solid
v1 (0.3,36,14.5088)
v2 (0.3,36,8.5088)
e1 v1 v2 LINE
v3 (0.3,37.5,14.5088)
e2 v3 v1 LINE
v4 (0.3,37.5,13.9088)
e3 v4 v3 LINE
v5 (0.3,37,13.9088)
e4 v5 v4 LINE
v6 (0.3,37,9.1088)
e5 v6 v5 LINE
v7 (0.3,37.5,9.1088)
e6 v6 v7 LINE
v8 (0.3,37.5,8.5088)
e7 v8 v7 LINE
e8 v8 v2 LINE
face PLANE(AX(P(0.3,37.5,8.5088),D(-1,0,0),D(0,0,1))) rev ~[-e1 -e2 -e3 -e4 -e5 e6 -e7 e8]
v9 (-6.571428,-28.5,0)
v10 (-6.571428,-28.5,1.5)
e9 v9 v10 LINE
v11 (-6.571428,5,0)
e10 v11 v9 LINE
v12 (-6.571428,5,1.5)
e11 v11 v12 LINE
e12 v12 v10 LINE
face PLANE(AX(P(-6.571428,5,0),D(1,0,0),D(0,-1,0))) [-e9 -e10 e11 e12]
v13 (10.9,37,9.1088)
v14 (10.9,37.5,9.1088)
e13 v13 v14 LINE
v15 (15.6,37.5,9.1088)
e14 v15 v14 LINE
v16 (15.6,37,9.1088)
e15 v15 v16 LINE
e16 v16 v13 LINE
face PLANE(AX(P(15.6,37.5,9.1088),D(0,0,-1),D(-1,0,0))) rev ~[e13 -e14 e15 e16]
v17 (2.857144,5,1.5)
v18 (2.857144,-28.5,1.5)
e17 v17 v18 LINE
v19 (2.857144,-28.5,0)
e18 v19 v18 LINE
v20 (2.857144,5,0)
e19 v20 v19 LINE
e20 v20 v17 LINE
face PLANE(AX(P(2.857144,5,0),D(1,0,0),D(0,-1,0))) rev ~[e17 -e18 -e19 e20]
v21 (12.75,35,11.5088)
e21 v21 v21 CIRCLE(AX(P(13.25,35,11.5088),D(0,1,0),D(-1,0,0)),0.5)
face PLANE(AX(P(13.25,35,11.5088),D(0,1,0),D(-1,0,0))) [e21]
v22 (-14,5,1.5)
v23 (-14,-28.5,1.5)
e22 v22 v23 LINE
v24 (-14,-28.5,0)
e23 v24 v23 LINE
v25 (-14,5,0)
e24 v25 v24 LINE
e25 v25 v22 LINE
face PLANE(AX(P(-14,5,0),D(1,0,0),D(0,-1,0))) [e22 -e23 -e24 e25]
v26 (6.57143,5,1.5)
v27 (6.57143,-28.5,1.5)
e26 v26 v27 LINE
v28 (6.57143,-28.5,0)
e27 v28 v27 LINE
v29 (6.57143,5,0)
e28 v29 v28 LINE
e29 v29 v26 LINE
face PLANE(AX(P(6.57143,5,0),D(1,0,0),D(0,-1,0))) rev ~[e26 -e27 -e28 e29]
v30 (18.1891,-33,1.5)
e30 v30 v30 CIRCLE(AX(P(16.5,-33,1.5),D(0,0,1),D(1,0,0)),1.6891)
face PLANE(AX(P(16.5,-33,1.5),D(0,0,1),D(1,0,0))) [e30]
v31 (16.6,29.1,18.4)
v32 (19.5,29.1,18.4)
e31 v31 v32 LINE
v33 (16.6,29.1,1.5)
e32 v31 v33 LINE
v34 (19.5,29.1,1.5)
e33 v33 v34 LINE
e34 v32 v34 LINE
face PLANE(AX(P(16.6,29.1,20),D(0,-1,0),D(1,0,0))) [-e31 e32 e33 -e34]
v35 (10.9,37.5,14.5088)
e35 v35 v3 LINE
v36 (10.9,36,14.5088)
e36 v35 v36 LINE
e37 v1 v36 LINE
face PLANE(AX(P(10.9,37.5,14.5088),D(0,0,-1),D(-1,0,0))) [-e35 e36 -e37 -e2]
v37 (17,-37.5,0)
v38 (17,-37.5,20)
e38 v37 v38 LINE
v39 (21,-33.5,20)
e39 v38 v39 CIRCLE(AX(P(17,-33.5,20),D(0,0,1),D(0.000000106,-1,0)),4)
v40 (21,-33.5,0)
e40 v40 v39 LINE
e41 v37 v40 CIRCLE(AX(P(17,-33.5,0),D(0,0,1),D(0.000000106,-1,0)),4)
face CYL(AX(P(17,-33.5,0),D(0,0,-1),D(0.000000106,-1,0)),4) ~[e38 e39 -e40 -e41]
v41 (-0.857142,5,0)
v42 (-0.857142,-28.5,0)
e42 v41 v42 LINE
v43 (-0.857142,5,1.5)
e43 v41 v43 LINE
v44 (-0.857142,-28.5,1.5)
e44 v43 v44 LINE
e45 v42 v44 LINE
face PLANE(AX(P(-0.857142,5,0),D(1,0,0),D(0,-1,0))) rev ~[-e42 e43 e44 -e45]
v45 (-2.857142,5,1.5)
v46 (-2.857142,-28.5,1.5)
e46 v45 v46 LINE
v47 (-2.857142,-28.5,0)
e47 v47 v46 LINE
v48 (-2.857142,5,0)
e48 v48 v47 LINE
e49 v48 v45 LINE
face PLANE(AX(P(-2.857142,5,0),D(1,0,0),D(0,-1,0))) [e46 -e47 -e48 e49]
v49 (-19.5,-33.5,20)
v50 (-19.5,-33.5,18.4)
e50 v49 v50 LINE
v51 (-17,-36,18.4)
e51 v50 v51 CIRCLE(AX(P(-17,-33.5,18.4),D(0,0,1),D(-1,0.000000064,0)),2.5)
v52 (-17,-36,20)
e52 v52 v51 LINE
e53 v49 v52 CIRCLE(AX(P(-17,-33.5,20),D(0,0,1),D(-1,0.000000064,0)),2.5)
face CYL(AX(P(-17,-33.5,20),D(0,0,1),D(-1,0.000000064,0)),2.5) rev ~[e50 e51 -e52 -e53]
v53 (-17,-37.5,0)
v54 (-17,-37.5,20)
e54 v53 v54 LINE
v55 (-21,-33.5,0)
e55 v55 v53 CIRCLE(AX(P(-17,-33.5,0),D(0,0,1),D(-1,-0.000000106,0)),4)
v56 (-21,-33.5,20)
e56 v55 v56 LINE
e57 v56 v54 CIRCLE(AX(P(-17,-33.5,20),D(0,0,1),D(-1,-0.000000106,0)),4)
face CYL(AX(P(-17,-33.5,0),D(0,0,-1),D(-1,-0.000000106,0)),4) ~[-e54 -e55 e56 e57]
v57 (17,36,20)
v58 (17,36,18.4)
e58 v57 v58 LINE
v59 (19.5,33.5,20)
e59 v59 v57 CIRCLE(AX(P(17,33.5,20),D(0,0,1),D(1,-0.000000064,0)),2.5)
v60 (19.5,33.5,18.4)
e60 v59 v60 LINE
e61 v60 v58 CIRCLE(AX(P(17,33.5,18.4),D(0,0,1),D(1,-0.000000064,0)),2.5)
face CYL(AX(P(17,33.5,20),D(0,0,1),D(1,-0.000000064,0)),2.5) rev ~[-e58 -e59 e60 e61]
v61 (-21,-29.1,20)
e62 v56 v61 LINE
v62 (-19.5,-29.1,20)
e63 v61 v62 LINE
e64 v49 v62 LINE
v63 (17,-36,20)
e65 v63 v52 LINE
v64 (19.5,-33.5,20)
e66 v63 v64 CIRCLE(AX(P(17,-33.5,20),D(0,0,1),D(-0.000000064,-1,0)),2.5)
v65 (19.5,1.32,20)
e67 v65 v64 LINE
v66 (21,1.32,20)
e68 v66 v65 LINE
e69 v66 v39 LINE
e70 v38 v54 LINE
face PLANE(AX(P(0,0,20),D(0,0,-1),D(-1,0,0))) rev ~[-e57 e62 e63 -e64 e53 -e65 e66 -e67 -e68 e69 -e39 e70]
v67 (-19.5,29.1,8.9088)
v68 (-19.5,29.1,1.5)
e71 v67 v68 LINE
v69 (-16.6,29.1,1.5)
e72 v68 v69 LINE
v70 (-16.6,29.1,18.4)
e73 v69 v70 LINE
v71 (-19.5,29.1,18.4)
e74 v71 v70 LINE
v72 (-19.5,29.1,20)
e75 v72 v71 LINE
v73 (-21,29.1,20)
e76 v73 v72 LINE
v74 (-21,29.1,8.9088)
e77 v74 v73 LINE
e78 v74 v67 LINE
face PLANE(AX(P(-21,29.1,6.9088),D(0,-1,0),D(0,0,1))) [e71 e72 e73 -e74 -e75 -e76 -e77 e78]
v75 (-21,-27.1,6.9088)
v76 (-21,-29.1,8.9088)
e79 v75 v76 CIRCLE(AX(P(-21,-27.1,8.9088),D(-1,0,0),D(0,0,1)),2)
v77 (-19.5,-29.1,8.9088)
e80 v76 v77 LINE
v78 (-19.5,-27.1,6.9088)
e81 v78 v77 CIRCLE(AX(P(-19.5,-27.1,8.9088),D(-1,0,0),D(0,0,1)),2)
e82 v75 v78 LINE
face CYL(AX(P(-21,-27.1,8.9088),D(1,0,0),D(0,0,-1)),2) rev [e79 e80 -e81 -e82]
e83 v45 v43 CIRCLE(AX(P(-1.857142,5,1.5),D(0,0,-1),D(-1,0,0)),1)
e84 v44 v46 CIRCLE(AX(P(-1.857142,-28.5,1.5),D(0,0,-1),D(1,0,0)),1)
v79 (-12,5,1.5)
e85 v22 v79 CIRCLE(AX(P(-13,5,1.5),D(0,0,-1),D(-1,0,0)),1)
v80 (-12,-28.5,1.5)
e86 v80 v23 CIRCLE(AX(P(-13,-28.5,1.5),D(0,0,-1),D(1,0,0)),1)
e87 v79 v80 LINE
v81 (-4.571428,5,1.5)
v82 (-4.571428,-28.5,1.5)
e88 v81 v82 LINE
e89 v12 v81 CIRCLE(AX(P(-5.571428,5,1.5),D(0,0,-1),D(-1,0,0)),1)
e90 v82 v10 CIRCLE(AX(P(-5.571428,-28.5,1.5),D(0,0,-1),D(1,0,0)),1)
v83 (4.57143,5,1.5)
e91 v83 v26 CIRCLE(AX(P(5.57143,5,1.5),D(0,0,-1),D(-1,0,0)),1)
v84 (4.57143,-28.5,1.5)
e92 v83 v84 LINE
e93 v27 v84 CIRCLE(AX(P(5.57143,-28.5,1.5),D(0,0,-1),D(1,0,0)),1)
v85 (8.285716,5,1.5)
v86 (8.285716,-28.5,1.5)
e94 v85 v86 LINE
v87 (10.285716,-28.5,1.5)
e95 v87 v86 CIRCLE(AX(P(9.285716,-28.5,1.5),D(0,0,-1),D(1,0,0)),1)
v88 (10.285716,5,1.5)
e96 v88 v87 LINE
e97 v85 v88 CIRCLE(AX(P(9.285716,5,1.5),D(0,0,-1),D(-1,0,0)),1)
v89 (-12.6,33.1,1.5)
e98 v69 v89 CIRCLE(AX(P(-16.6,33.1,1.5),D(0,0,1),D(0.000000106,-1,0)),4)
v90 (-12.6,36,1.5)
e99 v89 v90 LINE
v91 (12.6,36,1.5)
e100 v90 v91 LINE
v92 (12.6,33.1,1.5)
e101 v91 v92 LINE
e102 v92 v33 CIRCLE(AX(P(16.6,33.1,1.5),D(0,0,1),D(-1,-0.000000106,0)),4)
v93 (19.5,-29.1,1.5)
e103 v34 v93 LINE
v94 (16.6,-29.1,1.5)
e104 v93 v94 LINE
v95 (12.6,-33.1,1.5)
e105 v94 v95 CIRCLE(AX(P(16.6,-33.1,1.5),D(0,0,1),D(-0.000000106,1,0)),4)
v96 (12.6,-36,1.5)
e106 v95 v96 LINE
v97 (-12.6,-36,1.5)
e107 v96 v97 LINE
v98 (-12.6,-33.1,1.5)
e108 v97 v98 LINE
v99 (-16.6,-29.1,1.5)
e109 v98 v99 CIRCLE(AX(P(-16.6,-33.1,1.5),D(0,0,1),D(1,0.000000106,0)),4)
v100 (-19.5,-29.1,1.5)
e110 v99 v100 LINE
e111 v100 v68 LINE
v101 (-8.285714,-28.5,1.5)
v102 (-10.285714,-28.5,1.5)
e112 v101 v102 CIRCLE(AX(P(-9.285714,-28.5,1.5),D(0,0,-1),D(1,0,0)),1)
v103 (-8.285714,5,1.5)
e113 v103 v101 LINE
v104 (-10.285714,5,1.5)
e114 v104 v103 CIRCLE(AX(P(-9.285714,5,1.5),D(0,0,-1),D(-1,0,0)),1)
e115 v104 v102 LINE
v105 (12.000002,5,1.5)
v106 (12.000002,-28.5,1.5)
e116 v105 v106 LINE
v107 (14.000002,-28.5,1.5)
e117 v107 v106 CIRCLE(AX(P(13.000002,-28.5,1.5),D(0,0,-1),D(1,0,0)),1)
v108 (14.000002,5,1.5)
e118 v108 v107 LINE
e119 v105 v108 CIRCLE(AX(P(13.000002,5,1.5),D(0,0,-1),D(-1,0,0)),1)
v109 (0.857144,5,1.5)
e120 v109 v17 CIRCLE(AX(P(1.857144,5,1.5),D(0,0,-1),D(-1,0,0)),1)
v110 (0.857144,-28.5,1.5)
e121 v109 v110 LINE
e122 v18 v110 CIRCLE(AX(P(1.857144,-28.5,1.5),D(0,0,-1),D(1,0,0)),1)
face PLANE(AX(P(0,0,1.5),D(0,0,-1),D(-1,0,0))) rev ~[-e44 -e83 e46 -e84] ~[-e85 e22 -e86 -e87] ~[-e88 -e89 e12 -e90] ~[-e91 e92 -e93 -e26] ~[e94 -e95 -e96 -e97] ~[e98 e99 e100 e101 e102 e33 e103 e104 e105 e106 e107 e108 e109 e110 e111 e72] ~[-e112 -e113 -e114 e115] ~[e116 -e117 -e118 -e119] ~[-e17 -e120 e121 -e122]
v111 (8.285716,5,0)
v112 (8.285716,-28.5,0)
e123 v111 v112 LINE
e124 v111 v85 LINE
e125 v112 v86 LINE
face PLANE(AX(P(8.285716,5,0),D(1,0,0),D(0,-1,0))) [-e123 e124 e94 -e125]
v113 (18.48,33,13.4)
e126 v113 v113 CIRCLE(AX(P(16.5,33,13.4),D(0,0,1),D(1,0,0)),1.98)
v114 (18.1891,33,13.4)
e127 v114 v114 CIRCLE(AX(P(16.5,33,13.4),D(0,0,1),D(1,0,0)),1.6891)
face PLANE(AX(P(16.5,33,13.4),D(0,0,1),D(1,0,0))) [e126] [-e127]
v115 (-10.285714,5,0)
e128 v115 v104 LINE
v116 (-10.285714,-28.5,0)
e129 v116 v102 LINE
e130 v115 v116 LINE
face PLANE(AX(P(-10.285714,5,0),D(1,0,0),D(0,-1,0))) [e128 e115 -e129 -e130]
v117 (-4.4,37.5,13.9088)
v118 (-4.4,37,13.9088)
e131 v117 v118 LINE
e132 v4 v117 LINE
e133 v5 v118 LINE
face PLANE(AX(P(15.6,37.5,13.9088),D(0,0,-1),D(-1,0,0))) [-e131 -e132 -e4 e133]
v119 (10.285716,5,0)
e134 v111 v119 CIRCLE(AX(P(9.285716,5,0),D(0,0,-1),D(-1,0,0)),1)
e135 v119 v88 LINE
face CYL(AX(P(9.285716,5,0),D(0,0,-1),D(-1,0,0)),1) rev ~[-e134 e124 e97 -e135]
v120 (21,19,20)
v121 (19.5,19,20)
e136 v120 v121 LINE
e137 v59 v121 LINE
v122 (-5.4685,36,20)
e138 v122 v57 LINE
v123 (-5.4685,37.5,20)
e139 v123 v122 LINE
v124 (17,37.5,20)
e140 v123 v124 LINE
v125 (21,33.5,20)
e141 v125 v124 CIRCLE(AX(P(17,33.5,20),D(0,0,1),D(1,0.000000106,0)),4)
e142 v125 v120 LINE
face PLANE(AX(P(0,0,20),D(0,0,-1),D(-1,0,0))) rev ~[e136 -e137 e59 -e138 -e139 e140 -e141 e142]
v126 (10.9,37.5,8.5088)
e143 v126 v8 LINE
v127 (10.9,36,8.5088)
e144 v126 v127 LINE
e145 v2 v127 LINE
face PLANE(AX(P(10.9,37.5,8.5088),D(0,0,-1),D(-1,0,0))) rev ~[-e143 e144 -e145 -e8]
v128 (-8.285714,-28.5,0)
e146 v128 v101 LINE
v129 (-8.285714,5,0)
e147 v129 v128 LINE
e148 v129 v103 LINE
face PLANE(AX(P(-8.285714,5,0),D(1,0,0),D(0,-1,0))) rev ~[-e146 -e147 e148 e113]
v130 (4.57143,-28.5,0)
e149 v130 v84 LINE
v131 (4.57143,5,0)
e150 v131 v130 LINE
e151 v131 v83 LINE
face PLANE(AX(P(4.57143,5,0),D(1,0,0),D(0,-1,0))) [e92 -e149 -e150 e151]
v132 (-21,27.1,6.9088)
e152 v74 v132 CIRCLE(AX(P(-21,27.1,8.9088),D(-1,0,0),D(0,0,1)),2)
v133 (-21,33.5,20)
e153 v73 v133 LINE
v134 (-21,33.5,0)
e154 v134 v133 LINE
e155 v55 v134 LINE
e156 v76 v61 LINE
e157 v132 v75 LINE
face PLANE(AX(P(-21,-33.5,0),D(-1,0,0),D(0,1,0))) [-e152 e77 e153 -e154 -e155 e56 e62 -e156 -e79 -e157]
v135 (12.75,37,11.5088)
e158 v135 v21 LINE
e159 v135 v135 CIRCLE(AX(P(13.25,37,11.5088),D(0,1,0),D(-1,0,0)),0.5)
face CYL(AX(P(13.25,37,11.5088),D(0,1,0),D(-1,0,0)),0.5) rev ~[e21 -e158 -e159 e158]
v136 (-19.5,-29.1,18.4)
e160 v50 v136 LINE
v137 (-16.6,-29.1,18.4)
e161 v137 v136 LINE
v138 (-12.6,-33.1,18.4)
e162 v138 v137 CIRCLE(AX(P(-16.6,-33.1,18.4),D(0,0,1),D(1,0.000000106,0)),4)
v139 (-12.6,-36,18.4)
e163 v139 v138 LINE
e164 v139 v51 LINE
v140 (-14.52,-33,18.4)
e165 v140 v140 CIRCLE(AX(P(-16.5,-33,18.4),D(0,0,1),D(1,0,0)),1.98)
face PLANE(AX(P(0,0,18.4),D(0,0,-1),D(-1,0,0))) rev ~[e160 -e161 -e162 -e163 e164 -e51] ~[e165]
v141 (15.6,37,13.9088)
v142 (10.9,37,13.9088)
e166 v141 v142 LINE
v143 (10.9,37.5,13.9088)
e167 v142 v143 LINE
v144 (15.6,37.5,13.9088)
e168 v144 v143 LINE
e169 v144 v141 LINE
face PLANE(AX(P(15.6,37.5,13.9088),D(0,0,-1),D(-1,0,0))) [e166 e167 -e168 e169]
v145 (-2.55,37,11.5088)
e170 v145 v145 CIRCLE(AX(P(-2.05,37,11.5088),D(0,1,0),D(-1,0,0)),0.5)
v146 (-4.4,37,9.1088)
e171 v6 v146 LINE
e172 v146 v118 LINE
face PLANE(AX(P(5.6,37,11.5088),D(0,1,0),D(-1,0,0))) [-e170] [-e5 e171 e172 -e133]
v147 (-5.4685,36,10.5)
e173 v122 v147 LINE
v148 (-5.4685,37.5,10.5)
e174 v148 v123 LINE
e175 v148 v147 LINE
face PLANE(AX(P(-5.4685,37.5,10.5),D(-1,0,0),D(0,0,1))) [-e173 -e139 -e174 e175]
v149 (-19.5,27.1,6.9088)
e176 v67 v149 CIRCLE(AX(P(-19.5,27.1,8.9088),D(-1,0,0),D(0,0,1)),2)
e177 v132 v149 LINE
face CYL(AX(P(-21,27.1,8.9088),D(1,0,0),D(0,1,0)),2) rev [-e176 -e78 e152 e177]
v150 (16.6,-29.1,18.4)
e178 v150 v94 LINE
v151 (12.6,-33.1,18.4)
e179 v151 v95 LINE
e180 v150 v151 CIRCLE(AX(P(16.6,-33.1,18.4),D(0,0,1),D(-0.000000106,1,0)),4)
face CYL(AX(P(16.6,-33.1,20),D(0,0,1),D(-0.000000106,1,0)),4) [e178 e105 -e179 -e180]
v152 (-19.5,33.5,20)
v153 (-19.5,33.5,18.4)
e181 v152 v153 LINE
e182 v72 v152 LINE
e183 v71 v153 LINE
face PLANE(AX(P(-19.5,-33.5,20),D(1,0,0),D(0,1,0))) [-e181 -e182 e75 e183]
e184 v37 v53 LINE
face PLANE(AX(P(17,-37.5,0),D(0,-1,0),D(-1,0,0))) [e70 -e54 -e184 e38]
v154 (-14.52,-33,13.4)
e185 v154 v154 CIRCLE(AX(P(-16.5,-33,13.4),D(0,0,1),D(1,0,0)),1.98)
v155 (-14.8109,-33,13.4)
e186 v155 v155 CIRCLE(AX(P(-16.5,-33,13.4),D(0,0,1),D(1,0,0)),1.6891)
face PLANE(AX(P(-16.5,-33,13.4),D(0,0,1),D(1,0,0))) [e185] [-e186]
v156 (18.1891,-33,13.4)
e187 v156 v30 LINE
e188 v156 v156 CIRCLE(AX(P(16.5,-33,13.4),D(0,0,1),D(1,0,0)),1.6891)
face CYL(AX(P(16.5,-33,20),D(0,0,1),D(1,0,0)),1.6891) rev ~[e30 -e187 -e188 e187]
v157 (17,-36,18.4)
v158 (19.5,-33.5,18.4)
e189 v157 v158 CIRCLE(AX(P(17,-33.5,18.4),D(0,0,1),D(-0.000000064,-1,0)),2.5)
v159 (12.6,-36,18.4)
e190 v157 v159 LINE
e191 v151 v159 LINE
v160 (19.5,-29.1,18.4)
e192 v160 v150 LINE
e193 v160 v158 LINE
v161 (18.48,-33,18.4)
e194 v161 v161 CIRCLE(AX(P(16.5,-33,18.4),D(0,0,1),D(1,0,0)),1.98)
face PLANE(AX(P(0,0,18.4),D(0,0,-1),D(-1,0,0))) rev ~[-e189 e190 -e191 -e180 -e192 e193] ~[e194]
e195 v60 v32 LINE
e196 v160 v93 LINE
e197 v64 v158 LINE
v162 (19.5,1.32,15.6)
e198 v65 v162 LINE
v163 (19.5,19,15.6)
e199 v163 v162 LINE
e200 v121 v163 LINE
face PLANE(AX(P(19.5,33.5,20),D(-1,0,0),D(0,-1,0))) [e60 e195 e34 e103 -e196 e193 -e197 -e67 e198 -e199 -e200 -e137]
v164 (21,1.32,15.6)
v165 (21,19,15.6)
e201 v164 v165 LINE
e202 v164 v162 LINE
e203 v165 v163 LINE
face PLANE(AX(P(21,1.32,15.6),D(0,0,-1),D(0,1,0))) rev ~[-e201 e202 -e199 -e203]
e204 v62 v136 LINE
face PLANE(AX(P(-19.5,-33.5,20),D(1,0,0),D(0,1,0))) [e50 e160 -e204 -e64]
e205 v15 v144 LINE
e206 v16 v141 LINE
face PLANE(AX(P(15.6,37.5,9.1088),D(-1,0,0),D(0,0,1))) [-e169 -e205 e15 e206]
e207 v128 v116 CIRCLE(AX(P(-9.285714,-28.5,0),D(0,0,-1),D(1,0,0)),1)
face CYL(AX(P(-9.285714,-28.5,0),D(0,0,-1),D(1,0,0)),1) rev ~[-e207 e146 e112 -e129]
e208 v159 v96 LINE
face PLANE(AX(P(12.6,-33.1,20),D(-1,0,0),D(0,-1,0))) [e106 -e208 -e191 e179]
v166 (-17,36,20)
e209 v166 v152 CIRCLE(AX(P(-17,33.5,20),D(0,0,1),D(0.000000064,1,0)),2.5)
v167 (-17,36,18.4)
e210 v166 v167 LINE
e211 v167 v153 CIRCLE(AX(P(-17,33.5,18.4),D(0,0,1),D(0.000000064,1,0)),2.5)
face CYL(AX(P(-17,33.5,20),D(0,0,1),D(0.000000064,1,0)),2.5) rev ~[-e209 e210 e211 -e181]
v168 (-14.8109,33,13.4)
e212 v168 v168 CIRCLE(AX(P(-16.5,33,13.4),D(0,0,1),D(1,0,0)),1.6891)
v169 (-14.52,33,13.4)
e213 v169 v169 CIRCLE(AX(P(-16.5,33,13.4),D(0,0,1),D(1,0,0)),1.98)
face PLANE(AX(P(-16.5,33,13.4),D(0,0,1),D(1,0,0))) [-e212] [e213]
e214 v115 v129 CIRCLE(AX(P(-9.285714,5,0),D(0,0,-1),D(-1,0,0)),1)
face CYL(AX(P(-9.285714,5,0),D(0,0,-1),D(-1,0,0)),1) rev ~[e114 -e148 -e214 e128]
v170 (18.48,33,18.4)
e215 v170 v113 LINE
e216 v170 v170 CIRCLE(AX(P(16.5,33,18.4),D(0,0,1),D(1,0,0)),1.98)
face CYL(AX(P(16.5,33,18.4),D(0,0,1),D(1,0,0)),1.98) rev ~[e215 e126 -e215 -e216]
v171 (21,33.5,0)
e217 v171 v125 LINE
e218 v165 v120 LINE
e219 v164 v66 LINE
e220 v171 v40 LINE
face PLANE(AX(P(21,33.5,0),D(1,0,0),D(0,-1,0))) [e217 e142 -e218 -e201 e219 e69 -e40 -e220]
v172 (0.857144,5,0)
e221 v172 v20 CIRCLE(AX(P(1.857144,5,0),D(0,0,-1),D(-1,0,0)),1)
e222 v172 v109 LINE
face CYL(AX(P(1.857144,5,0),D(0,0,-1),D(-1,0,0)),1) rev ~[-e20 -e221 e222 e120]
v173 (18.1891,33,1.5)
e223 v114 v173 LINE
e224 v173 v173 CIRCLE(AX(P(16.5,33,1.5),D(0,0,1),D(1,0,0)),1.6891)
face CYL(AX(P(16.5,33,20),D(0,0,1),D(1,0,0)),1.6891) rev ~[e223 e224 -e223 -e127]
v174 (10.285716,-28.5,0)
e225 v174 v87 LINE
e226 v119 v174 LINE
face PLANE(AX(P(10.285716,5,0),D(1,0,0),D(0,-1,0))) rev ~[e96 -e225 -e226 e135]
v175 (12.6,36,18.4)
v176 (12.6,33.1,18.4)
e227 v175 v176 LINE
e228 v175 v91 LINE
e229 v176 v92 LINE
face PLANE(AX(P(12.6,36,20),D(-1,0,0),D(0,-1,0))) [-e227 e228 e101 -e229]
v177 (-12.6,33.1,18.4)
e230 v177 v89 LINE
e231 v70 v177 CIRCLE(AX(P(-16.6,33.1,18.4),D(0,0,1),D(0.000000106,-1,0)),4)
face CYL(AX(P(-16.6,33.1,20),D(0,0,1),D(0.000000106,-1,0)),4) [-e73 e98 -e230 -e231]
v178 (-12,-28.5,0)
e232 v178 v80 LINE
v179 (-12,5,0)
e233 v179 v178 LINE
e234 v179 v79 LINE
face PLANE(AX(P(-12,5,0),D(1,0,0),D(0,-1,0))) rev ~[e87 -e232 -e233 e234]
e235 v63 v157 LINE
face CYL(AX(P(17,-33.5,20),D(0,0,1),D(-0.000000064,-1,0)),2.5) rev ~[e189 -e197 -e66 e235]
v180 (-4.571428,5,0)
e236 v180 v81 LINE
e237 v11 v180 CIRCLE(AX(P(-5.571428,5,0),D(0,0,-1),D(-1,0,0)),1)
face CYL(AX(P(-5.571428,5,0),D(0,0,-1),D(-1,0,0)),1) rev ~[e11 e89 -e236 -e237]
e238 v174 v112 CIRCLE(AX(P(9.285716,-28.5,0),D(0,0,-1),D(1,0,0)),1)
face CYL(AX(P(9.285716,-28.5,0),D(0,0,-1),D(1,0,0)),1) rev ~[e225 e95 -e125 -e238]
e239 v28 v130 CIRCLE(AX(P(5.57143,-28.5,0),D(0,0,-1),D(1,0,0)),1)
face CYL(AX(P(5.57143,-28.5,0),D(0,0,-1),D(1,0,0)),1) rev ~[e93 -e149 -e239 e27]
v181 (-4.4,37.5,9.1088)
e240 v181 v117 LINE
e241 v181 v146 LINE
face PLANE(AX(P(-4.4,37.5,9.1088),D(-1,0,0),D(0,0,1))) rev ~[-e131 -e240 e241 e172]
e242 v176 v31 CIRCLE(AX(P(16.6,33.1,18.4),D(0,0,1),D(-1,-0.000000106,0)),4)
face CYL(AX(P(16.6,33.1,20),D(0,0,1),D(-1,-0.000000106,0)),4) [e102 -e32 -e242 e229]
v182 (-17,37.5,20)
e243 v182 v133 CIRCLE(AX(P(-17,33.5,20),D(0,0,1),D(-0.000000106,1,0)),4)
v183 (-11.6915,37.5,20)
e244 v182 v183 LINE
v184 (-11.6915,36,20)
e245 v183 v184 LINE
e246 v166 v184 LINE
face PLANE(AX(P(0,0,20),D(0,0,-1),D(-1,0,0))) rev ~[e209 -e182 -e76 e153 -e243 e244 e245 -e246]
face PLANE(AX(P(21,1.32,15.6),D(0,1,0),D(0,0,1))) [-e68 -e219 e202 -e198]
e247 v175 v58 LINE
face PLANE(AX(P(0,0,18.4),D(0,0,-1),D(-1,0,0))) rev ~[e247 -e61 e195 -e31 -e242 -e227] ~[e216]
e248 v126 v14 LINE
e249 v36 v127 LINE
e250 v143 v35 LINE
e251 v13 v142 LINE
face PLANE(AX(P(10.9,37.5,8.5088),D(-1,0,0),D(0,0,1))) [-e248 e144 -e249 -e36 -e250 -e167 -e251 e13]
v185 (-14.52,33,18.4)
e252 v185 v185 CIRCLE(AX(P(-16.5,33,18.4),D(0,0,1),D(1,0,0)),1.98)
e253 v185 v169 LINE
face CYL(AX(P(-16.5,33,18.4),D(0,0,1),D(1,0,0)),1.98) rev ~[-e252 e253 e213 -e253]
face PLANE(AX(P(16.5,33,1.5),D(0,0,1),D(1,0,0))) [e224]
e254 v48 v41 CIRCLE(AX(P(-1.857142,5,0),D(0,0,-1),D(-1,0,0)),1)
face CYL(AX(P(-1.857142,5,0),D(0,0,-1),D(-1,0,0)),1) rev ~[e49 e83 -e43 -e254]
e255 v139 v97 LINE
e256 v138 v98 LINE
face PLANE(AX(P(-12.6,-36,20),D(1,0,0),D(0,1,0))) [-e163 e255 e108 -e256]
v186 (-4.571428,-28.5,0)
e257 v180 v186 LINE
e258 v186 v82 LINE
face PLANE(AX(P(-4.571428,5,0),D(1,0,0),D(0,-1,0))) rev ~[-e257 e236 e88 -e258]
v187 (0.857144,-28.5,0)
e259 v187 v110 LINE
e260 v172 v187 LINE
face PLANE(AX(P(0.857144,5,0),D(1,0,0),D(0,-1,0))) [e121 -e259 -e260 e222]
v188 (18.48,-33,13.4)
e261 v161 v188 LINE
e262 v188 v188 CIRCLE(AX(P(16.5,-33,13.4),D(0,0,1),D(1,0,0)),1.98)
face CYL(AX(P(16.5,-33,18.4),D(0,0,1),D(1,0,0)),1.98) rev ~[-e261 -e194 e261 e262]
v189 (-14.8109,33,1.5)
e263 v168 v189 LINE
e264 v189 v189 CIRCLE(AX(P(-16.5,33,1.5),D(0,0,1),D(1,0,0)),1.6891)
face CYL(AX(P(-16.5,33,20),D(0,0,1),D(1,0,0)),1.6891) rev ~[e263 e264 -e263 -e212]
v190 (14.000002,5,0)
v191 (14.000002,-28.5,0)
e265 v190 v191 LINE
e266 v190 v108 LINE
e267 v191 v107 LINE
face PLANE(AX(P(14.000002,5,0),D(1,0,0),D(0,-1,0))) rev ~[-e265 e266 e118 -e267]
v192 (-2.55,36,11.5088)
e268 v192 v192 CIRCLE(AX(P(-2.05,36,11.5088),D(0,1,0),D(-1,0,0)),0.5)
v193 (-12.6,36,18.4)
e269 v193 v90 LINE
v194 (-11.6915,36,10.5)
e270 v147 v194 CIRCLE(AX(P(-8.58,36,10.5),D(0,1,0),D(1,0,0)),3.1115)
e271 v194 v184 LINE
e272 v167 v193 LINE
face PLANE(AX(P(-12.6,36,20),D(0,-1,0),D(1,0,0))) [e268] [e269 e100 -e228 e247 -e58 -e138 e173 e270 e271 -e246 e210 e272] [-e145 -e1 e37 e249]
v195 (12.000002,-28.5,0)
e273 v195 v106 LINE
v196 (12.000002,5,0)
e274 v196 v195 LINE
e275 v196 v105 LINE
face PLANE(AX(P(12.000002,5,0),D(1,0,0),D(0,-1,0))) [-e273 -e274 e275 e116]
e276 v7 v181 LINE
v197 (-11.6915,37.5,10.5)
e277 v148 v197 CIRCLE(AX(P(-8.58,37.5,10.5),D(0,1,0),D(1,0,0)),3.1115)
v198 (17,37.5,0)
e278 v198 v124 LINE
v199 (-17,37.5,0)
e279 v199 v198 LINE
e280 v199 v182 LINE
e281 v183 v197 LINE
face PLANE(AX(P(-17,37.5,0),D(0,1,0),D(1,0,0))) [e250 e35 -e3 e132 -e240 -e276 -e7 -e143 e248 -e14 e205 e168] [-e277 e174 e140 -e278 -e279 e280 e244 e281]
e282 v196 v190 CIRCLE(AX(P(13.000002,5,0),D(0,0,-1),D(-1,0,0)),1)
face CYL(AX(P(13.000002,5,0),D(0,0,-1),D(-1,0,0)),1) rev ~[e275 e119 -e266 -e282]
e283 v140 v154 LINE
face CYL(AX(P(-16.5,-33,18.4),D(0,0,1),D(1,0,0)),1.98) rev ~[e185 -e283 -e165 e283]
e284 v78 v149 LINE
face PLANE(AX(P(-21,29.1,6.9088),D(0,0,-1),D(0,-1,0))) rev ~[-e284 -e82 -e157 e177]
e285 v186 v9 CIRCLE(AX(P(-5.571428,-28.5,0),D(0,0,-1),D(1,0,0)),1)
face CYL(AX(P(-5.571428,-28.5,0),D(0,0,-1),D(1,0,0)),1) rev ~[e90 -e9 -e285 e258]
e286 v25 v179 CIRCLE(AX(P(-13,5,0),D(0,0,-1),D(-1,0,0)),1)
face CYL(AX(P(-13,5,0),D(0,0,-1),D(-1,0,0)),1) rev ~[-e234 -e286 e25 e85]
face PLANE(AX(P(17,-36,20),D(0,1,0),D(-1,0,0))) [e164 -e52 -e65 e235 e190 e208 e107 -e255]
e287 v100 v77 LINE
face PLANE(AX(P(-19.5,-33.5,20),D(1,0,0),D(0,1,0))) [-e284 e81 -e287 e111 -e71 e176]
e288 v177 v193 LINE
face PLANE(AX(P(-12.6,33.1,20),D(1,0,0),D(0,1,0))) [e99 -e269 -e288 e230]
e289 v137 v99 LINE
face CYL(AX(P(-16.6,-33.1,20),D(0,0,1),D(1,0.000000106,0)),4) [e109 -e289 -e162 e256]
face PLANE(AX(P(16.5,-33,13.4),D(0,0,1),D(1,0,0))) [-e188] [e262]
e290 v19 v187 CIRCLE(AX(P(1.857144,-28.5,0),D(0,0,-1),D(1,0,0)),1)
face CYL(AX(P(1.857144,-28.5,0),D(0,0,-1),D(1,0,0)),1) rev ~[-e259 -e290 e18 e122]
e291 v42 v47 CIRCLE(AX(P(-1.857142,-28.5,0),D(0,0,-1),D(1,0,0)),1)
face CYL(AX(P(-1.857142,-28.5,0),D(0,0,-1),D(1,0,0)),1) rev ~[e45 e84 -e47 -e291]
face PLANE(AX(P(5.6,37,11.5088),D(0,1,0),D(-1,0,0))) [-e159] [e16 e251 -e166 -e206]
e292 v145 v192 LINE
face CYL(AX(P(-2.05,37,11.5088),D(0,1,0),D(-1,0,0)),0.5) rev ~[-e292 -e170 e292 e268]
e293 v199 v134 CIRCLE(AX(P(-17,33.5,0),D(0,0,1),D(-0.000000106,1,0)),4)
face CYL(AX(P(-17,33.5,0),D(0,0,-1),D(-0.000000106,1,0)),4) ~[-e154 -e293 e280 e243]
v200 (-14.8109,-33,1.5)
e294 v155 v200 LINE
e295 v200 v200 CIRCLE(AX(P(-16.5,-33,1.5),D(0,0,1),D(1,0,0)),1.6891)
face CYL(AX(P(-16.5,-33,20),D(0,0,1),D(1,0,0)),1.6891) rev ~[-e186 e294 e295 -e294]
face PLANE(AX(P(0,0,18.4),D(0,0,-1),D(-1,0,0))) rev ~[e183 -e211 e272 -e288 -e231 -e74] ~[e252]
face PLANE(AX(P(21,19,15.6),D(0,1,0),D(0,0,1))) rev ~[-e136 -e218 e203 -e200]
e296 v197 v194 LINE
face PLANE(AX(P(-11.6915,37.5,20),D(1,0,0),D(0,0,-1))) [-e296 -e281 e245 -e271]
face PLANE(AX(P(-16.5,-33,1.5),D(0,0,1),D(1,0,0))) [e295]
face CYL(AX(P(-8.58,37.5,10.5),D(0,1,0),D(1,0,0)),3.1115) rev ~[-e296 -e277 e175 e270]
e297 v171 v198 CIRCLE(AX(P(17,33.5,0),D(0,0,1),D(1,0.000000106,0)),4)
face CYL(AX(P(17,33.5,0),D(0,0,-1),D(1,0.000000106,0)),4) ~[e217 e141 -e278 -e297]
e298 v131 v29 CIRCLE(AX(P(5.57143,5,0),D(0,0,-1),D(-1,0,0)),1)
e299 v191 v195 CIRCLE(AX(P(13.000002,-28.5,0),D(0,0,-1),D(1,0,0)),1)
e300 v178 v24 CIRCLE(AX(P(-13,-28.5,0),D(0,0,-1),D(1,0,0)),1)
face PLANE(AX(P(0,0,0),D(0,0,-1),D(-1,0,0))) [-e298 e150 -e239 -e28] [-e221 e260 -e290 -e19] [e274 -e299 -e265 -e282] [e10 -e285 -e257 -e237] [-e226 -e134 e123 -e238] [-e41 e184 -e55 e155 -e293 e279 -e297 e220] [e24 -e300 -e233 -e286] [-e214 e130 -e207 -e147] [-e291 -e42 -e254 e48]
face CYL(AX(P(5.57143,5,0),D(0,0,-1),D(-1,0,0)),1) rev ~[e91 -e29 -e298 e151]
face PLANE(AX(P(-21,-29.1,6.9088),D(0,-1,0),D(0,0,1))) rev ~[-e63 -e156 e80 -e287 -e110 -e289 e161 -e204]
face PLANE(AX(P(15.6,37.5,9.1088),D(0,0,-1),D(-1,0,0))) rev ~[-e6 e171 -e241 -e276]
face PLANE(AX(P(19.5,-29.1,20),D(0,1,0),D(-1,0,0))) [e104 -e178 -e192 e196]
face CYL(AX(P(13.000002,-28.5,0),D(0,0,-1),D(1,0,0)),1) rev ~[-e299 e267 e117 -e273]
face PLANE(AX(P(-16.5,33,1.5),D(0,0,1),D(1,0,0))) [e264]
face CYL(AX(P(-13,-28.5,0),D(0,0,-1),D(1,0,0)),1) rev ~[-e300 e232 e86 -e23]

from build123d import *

# Parameters (mm, degrees)
PAD_DEPTH           = 20
SKETCH001_R         = 1.6891
POCKET_DEPTH        = 18.5
POCKET001_DEPTH     = 1.6
POCKET002_DEPTH     = 5
POCKET004_DEPTH     = 5
LINEARPATTERN_COUNT = 8
LINEARPATTERN_PITCH = 3.714286
SKETCH006_W         = 58.2
SKETCH006_H         = 13.0912
POCKET005_DEPTH     = 5
SKETCH009_W         = 20
SKETCH009_H         = 4.8
POCKET007_DEPTH     = 0.5
SKETCH010_R         = 1.98
POCKET011_DEPTH     = 5
SKETCH012_R         = 0.5
POCKET013_DEPTH     = 2
SKETCH013_W         = 10.6
SKETCH013_H         = 6
POCKET014_DEPTH     = 5
SKETCH004_W         = 17.68
SKETCH004_H         = 4.4
POCKET015_DEPTH     = 5
FILLET_R            = 2


with BuildPart() as part:
    # Sketch → Pad (new body)
    with BuildSketch(Plane.XY):
        with BuildLine():
            Line((-17, 37.5), (17, 37.5))
            ThreePointArc((21, 33.5), (19.828427, 36.328427), (17, 37.5))
            Line((21, 33.5), (21, -33.5))
            ThreePointArc((17, -37.5), (19.828427, -36.328427), (21, -33.5))
            Line((17, -37.5), (-17, -37.5))
            ThreePointArc((-21, -33.5), (-19.828427, -36.328427), (-17, -37.5))
            Line((-21, -33.5), (-21, 33.5))
            ThreePointArc((-17, 37.5), (-19.828427, 36.328427), (-21, 33.5))
        make_face()
    extrude(amount=PAD_DEPTH)

    # Sketch001 (on Face10 of Pad) → Pocket (cut)
    with BuildSketch(Plane.XY.offset(20)):
        with Locations((-16.5, -33)):
            Circle(SKETCH001_R)
        with Locations((16.5, -33)):
            Circle(SKETCH001_R)
        with Locations((16.5, 33)):
            Circle(SKETCH001_R)
        with Locations((-16.5, 33)):
            Circle(SKETCH001_R)
        with BuildLine():
            Line((-12.6, 36), (12.6, 36))
            Line((12.6, 36), (12.6, 33.1))
            ThreePointArc((12.6, 33.1), (13.771573, 30.271573), (16.6, 29.1))
            Line((16.6, 29.1), (19.5, 29.1))
            Line((19.5, 29.1), (19.5, -29.1))
            Line((19.5, -29.1), (16.6, -29.1))
            ThreePointArc((16.6, -29.1), (13.771573, -30.271573), (12.6, -33.1))
            Line((12.6, -33.1), (12.6, -36))
            Line((12.6, -36), (-12.6, -36))
            Line((-12.6, -36), (-12.6, -33.1))
            ThreePointArc((-12.6, -33.1), (-13.771573, -30.271573), (-16.6, -29.1))
            Line((-16.6, -29.1), (-19.5, -29.1))
            Line((-19.5, -29.1), (-19.5, 29.1))
            Line((-19.5, 29.1), (-16.6, 29.1))
            ThreePointArc((-16.6, 29.1), (-13.771573, 30.271573), (-12.6, 33.1))
            Line((-12.6, 33.1), (-12.6, 36))
        make_face()
    extrude(amount=-POCKET_DEPTH, mode=Mode.SUBTRACT)

    # Sketch002 (on Face5 of Pocket) → Pocket001 (cut)
    with BuildSketch(Plane.XY.offset(20)):
        with BuildLine():
            Line((-17, 36), (17, 36))
            ThreePointArc((19.5, 33.5), (18.767767, 35.267767), (17, 36))
            Line((19.5, 33.5), (19.5, -33.5))
            ThreePointArc((17, -36), (18.767767, -35.267767), (19.5, -33.5))
            Line((17, -36), (-17, -36))
            ThreePointArc((-19.5, -33.5), (-18.767767, -35.267767), (-17, -36))
            Line((-19.5, -33.5), (-19.5, 33.5))
            ThreePointArc((-17, 36), (-18.767767, 35.267767), (-19.5, 33.5))
        make_face()
    extrude(amount=-POCKET001_DEPTH, mode=Mode.SUBTRACT)

    # Sketch003 (on Face7 of Pocket001) → Pocket002 (cut)
    with BuildSketch(Plane(origin=(0, 37.5, 0), x_dir=(-1, 0, 0), z_dir=(0, 1, 0))):
        with BuildLine():
            Line((5.4685, 10.5), (5.4685, 20))
            Line((5.4685, 20), (11.6915, 20))
            Line((11.6915, 20), (11.6915, 10.5))
            ThreePointArc((5.4685, 10.5), (8.58, 7.3885), (11.6915, 10.5))
        make_face()
    extrude(amount=-POCKET002_DEPTH, mode=Mode.SUBTRACT)

    # Sketch005 → Pocket004 (cut)
    with BuildSketch(Plane(origin=(0, 0, 0), x_dir=(1, 0, 0), z_dir=(0, 0, -1))):
        with BuildLine():
            ThreePointArc((-14, -5), (-13, -6), (-12, -5))
            Line((-12, -5), (-12, 28.5))
            ThreePointArc((-12, 28.5), (-13, 29.5), (-14, 28.5))
            Line((-14, -5), (-14, 28.5))
        make_face()
    pocket004 = extrude(amount=-POCKET004_DEPTH, mode=Mode.SUBTRACT)

    # LinearPattern: Pocket004 ×8
    with Locations(*[(i * LINEARPATTERN_PITCH, 0, 0) for i in range(1, LINEARPATTERN_COUNT)]):
        add(pocket004, mode=Mode.SUBTRACT)

    # Sketch006 (on Face1 of LinearPattern) → Pocket005 (cut)
    with BuildSketch(Plane(origin=(-21, 0, 0), x_dir=(0, -1, 0), z_dir=(-1, 0, 0))):
        with Locations((0, 13.4544)):
            Rectangle(SKETCH006_W, SKETCH006_H)
    extrude(amount=-POCKET005_DEPTH, mode=Mode.SUBTRACT)

    # Sketch009 → Pocket007 (cut)
    with BuildSketch(Plane(origin=(0, 37.5, 0), x_dir=(-1, 0, 0), z_dir=(0, 1, 0))):
        with Locations((-5.6, 11.5088)):
            Rectangle(SKETCH009_W, SKETCH009_H)
    extrude(amount=-POCKET007_DEPTH, mode=Mode.SUBTRACT)

    # Sketch010 → Pocket011 (cut)
    with BuildSketch(Plane.XY.offset(18.4)):
        with Locations((-16.5, 33)):
            Circle(SKETCH010_R)
        with Locations((16.5, 33)):
            Circle(SKETCH010_R)
        with Locations((-16.5, -33)):
            Circle(SKETCH010_R)
        with Locations((16.5, -33)):
            Circle(SKETCH010_R)
    extrude(amount=-POCKET011_DEPTH, mode=Mode.SUBTRACT)

    # Sketch012 → Pocket013 (cut)
    with BuildSketch(Plane(origin=(0, 37, 0), x_dir=(-1, 0, 0), z_dir=(0, 1, 0))):
        with Locations((-13.25, 11.5088)):
            Circle(SKETCH012_R)
        with Locations((2.05, 11.5088)):
            Circle(SKETCH012_R)
    extrude(amount=-POCKET013_DEPTH, mode=Mode.SUBTRACT)

    # Sketch013 (on Face11 of Pocket013) → Pocket014 (cut)
    with BuildSketch(Plane(origin=(0, 37.5, 0), x_dir=(-1, 0, 0), z_dir=(0, 1, 0))):
        with Locations((-5.6, 11.5088)):
            Rectangle(SKETCH013_W, SKETCH013_H)
    extrude(amount=-POCKET014_DEPTH, mode=Mode.SUBTRACT)

    # Sketch004 (on Face14 of Pocket014) → Pocket015 (cut)
    with BuildSketch(Plane.YZ.offset(21)):
        with Locations((10.16, 17.8)):
            Rectangle(SKETCH004_W, SKETCH004_H)
    extrude(amount=-POCKET015_DEPTH, mode=Mode.SUBTRACT)

    # Fillet
    fillet_edges = [part.edges().sort_by_distance(p)[0] for p in [
        (-20.25, 29.1, 6.9088),
        (-20.25, -29.1, 6.9088),
    ]]
    fillet(fillet_edges, radius=FILLET_R)


solid = part.part
